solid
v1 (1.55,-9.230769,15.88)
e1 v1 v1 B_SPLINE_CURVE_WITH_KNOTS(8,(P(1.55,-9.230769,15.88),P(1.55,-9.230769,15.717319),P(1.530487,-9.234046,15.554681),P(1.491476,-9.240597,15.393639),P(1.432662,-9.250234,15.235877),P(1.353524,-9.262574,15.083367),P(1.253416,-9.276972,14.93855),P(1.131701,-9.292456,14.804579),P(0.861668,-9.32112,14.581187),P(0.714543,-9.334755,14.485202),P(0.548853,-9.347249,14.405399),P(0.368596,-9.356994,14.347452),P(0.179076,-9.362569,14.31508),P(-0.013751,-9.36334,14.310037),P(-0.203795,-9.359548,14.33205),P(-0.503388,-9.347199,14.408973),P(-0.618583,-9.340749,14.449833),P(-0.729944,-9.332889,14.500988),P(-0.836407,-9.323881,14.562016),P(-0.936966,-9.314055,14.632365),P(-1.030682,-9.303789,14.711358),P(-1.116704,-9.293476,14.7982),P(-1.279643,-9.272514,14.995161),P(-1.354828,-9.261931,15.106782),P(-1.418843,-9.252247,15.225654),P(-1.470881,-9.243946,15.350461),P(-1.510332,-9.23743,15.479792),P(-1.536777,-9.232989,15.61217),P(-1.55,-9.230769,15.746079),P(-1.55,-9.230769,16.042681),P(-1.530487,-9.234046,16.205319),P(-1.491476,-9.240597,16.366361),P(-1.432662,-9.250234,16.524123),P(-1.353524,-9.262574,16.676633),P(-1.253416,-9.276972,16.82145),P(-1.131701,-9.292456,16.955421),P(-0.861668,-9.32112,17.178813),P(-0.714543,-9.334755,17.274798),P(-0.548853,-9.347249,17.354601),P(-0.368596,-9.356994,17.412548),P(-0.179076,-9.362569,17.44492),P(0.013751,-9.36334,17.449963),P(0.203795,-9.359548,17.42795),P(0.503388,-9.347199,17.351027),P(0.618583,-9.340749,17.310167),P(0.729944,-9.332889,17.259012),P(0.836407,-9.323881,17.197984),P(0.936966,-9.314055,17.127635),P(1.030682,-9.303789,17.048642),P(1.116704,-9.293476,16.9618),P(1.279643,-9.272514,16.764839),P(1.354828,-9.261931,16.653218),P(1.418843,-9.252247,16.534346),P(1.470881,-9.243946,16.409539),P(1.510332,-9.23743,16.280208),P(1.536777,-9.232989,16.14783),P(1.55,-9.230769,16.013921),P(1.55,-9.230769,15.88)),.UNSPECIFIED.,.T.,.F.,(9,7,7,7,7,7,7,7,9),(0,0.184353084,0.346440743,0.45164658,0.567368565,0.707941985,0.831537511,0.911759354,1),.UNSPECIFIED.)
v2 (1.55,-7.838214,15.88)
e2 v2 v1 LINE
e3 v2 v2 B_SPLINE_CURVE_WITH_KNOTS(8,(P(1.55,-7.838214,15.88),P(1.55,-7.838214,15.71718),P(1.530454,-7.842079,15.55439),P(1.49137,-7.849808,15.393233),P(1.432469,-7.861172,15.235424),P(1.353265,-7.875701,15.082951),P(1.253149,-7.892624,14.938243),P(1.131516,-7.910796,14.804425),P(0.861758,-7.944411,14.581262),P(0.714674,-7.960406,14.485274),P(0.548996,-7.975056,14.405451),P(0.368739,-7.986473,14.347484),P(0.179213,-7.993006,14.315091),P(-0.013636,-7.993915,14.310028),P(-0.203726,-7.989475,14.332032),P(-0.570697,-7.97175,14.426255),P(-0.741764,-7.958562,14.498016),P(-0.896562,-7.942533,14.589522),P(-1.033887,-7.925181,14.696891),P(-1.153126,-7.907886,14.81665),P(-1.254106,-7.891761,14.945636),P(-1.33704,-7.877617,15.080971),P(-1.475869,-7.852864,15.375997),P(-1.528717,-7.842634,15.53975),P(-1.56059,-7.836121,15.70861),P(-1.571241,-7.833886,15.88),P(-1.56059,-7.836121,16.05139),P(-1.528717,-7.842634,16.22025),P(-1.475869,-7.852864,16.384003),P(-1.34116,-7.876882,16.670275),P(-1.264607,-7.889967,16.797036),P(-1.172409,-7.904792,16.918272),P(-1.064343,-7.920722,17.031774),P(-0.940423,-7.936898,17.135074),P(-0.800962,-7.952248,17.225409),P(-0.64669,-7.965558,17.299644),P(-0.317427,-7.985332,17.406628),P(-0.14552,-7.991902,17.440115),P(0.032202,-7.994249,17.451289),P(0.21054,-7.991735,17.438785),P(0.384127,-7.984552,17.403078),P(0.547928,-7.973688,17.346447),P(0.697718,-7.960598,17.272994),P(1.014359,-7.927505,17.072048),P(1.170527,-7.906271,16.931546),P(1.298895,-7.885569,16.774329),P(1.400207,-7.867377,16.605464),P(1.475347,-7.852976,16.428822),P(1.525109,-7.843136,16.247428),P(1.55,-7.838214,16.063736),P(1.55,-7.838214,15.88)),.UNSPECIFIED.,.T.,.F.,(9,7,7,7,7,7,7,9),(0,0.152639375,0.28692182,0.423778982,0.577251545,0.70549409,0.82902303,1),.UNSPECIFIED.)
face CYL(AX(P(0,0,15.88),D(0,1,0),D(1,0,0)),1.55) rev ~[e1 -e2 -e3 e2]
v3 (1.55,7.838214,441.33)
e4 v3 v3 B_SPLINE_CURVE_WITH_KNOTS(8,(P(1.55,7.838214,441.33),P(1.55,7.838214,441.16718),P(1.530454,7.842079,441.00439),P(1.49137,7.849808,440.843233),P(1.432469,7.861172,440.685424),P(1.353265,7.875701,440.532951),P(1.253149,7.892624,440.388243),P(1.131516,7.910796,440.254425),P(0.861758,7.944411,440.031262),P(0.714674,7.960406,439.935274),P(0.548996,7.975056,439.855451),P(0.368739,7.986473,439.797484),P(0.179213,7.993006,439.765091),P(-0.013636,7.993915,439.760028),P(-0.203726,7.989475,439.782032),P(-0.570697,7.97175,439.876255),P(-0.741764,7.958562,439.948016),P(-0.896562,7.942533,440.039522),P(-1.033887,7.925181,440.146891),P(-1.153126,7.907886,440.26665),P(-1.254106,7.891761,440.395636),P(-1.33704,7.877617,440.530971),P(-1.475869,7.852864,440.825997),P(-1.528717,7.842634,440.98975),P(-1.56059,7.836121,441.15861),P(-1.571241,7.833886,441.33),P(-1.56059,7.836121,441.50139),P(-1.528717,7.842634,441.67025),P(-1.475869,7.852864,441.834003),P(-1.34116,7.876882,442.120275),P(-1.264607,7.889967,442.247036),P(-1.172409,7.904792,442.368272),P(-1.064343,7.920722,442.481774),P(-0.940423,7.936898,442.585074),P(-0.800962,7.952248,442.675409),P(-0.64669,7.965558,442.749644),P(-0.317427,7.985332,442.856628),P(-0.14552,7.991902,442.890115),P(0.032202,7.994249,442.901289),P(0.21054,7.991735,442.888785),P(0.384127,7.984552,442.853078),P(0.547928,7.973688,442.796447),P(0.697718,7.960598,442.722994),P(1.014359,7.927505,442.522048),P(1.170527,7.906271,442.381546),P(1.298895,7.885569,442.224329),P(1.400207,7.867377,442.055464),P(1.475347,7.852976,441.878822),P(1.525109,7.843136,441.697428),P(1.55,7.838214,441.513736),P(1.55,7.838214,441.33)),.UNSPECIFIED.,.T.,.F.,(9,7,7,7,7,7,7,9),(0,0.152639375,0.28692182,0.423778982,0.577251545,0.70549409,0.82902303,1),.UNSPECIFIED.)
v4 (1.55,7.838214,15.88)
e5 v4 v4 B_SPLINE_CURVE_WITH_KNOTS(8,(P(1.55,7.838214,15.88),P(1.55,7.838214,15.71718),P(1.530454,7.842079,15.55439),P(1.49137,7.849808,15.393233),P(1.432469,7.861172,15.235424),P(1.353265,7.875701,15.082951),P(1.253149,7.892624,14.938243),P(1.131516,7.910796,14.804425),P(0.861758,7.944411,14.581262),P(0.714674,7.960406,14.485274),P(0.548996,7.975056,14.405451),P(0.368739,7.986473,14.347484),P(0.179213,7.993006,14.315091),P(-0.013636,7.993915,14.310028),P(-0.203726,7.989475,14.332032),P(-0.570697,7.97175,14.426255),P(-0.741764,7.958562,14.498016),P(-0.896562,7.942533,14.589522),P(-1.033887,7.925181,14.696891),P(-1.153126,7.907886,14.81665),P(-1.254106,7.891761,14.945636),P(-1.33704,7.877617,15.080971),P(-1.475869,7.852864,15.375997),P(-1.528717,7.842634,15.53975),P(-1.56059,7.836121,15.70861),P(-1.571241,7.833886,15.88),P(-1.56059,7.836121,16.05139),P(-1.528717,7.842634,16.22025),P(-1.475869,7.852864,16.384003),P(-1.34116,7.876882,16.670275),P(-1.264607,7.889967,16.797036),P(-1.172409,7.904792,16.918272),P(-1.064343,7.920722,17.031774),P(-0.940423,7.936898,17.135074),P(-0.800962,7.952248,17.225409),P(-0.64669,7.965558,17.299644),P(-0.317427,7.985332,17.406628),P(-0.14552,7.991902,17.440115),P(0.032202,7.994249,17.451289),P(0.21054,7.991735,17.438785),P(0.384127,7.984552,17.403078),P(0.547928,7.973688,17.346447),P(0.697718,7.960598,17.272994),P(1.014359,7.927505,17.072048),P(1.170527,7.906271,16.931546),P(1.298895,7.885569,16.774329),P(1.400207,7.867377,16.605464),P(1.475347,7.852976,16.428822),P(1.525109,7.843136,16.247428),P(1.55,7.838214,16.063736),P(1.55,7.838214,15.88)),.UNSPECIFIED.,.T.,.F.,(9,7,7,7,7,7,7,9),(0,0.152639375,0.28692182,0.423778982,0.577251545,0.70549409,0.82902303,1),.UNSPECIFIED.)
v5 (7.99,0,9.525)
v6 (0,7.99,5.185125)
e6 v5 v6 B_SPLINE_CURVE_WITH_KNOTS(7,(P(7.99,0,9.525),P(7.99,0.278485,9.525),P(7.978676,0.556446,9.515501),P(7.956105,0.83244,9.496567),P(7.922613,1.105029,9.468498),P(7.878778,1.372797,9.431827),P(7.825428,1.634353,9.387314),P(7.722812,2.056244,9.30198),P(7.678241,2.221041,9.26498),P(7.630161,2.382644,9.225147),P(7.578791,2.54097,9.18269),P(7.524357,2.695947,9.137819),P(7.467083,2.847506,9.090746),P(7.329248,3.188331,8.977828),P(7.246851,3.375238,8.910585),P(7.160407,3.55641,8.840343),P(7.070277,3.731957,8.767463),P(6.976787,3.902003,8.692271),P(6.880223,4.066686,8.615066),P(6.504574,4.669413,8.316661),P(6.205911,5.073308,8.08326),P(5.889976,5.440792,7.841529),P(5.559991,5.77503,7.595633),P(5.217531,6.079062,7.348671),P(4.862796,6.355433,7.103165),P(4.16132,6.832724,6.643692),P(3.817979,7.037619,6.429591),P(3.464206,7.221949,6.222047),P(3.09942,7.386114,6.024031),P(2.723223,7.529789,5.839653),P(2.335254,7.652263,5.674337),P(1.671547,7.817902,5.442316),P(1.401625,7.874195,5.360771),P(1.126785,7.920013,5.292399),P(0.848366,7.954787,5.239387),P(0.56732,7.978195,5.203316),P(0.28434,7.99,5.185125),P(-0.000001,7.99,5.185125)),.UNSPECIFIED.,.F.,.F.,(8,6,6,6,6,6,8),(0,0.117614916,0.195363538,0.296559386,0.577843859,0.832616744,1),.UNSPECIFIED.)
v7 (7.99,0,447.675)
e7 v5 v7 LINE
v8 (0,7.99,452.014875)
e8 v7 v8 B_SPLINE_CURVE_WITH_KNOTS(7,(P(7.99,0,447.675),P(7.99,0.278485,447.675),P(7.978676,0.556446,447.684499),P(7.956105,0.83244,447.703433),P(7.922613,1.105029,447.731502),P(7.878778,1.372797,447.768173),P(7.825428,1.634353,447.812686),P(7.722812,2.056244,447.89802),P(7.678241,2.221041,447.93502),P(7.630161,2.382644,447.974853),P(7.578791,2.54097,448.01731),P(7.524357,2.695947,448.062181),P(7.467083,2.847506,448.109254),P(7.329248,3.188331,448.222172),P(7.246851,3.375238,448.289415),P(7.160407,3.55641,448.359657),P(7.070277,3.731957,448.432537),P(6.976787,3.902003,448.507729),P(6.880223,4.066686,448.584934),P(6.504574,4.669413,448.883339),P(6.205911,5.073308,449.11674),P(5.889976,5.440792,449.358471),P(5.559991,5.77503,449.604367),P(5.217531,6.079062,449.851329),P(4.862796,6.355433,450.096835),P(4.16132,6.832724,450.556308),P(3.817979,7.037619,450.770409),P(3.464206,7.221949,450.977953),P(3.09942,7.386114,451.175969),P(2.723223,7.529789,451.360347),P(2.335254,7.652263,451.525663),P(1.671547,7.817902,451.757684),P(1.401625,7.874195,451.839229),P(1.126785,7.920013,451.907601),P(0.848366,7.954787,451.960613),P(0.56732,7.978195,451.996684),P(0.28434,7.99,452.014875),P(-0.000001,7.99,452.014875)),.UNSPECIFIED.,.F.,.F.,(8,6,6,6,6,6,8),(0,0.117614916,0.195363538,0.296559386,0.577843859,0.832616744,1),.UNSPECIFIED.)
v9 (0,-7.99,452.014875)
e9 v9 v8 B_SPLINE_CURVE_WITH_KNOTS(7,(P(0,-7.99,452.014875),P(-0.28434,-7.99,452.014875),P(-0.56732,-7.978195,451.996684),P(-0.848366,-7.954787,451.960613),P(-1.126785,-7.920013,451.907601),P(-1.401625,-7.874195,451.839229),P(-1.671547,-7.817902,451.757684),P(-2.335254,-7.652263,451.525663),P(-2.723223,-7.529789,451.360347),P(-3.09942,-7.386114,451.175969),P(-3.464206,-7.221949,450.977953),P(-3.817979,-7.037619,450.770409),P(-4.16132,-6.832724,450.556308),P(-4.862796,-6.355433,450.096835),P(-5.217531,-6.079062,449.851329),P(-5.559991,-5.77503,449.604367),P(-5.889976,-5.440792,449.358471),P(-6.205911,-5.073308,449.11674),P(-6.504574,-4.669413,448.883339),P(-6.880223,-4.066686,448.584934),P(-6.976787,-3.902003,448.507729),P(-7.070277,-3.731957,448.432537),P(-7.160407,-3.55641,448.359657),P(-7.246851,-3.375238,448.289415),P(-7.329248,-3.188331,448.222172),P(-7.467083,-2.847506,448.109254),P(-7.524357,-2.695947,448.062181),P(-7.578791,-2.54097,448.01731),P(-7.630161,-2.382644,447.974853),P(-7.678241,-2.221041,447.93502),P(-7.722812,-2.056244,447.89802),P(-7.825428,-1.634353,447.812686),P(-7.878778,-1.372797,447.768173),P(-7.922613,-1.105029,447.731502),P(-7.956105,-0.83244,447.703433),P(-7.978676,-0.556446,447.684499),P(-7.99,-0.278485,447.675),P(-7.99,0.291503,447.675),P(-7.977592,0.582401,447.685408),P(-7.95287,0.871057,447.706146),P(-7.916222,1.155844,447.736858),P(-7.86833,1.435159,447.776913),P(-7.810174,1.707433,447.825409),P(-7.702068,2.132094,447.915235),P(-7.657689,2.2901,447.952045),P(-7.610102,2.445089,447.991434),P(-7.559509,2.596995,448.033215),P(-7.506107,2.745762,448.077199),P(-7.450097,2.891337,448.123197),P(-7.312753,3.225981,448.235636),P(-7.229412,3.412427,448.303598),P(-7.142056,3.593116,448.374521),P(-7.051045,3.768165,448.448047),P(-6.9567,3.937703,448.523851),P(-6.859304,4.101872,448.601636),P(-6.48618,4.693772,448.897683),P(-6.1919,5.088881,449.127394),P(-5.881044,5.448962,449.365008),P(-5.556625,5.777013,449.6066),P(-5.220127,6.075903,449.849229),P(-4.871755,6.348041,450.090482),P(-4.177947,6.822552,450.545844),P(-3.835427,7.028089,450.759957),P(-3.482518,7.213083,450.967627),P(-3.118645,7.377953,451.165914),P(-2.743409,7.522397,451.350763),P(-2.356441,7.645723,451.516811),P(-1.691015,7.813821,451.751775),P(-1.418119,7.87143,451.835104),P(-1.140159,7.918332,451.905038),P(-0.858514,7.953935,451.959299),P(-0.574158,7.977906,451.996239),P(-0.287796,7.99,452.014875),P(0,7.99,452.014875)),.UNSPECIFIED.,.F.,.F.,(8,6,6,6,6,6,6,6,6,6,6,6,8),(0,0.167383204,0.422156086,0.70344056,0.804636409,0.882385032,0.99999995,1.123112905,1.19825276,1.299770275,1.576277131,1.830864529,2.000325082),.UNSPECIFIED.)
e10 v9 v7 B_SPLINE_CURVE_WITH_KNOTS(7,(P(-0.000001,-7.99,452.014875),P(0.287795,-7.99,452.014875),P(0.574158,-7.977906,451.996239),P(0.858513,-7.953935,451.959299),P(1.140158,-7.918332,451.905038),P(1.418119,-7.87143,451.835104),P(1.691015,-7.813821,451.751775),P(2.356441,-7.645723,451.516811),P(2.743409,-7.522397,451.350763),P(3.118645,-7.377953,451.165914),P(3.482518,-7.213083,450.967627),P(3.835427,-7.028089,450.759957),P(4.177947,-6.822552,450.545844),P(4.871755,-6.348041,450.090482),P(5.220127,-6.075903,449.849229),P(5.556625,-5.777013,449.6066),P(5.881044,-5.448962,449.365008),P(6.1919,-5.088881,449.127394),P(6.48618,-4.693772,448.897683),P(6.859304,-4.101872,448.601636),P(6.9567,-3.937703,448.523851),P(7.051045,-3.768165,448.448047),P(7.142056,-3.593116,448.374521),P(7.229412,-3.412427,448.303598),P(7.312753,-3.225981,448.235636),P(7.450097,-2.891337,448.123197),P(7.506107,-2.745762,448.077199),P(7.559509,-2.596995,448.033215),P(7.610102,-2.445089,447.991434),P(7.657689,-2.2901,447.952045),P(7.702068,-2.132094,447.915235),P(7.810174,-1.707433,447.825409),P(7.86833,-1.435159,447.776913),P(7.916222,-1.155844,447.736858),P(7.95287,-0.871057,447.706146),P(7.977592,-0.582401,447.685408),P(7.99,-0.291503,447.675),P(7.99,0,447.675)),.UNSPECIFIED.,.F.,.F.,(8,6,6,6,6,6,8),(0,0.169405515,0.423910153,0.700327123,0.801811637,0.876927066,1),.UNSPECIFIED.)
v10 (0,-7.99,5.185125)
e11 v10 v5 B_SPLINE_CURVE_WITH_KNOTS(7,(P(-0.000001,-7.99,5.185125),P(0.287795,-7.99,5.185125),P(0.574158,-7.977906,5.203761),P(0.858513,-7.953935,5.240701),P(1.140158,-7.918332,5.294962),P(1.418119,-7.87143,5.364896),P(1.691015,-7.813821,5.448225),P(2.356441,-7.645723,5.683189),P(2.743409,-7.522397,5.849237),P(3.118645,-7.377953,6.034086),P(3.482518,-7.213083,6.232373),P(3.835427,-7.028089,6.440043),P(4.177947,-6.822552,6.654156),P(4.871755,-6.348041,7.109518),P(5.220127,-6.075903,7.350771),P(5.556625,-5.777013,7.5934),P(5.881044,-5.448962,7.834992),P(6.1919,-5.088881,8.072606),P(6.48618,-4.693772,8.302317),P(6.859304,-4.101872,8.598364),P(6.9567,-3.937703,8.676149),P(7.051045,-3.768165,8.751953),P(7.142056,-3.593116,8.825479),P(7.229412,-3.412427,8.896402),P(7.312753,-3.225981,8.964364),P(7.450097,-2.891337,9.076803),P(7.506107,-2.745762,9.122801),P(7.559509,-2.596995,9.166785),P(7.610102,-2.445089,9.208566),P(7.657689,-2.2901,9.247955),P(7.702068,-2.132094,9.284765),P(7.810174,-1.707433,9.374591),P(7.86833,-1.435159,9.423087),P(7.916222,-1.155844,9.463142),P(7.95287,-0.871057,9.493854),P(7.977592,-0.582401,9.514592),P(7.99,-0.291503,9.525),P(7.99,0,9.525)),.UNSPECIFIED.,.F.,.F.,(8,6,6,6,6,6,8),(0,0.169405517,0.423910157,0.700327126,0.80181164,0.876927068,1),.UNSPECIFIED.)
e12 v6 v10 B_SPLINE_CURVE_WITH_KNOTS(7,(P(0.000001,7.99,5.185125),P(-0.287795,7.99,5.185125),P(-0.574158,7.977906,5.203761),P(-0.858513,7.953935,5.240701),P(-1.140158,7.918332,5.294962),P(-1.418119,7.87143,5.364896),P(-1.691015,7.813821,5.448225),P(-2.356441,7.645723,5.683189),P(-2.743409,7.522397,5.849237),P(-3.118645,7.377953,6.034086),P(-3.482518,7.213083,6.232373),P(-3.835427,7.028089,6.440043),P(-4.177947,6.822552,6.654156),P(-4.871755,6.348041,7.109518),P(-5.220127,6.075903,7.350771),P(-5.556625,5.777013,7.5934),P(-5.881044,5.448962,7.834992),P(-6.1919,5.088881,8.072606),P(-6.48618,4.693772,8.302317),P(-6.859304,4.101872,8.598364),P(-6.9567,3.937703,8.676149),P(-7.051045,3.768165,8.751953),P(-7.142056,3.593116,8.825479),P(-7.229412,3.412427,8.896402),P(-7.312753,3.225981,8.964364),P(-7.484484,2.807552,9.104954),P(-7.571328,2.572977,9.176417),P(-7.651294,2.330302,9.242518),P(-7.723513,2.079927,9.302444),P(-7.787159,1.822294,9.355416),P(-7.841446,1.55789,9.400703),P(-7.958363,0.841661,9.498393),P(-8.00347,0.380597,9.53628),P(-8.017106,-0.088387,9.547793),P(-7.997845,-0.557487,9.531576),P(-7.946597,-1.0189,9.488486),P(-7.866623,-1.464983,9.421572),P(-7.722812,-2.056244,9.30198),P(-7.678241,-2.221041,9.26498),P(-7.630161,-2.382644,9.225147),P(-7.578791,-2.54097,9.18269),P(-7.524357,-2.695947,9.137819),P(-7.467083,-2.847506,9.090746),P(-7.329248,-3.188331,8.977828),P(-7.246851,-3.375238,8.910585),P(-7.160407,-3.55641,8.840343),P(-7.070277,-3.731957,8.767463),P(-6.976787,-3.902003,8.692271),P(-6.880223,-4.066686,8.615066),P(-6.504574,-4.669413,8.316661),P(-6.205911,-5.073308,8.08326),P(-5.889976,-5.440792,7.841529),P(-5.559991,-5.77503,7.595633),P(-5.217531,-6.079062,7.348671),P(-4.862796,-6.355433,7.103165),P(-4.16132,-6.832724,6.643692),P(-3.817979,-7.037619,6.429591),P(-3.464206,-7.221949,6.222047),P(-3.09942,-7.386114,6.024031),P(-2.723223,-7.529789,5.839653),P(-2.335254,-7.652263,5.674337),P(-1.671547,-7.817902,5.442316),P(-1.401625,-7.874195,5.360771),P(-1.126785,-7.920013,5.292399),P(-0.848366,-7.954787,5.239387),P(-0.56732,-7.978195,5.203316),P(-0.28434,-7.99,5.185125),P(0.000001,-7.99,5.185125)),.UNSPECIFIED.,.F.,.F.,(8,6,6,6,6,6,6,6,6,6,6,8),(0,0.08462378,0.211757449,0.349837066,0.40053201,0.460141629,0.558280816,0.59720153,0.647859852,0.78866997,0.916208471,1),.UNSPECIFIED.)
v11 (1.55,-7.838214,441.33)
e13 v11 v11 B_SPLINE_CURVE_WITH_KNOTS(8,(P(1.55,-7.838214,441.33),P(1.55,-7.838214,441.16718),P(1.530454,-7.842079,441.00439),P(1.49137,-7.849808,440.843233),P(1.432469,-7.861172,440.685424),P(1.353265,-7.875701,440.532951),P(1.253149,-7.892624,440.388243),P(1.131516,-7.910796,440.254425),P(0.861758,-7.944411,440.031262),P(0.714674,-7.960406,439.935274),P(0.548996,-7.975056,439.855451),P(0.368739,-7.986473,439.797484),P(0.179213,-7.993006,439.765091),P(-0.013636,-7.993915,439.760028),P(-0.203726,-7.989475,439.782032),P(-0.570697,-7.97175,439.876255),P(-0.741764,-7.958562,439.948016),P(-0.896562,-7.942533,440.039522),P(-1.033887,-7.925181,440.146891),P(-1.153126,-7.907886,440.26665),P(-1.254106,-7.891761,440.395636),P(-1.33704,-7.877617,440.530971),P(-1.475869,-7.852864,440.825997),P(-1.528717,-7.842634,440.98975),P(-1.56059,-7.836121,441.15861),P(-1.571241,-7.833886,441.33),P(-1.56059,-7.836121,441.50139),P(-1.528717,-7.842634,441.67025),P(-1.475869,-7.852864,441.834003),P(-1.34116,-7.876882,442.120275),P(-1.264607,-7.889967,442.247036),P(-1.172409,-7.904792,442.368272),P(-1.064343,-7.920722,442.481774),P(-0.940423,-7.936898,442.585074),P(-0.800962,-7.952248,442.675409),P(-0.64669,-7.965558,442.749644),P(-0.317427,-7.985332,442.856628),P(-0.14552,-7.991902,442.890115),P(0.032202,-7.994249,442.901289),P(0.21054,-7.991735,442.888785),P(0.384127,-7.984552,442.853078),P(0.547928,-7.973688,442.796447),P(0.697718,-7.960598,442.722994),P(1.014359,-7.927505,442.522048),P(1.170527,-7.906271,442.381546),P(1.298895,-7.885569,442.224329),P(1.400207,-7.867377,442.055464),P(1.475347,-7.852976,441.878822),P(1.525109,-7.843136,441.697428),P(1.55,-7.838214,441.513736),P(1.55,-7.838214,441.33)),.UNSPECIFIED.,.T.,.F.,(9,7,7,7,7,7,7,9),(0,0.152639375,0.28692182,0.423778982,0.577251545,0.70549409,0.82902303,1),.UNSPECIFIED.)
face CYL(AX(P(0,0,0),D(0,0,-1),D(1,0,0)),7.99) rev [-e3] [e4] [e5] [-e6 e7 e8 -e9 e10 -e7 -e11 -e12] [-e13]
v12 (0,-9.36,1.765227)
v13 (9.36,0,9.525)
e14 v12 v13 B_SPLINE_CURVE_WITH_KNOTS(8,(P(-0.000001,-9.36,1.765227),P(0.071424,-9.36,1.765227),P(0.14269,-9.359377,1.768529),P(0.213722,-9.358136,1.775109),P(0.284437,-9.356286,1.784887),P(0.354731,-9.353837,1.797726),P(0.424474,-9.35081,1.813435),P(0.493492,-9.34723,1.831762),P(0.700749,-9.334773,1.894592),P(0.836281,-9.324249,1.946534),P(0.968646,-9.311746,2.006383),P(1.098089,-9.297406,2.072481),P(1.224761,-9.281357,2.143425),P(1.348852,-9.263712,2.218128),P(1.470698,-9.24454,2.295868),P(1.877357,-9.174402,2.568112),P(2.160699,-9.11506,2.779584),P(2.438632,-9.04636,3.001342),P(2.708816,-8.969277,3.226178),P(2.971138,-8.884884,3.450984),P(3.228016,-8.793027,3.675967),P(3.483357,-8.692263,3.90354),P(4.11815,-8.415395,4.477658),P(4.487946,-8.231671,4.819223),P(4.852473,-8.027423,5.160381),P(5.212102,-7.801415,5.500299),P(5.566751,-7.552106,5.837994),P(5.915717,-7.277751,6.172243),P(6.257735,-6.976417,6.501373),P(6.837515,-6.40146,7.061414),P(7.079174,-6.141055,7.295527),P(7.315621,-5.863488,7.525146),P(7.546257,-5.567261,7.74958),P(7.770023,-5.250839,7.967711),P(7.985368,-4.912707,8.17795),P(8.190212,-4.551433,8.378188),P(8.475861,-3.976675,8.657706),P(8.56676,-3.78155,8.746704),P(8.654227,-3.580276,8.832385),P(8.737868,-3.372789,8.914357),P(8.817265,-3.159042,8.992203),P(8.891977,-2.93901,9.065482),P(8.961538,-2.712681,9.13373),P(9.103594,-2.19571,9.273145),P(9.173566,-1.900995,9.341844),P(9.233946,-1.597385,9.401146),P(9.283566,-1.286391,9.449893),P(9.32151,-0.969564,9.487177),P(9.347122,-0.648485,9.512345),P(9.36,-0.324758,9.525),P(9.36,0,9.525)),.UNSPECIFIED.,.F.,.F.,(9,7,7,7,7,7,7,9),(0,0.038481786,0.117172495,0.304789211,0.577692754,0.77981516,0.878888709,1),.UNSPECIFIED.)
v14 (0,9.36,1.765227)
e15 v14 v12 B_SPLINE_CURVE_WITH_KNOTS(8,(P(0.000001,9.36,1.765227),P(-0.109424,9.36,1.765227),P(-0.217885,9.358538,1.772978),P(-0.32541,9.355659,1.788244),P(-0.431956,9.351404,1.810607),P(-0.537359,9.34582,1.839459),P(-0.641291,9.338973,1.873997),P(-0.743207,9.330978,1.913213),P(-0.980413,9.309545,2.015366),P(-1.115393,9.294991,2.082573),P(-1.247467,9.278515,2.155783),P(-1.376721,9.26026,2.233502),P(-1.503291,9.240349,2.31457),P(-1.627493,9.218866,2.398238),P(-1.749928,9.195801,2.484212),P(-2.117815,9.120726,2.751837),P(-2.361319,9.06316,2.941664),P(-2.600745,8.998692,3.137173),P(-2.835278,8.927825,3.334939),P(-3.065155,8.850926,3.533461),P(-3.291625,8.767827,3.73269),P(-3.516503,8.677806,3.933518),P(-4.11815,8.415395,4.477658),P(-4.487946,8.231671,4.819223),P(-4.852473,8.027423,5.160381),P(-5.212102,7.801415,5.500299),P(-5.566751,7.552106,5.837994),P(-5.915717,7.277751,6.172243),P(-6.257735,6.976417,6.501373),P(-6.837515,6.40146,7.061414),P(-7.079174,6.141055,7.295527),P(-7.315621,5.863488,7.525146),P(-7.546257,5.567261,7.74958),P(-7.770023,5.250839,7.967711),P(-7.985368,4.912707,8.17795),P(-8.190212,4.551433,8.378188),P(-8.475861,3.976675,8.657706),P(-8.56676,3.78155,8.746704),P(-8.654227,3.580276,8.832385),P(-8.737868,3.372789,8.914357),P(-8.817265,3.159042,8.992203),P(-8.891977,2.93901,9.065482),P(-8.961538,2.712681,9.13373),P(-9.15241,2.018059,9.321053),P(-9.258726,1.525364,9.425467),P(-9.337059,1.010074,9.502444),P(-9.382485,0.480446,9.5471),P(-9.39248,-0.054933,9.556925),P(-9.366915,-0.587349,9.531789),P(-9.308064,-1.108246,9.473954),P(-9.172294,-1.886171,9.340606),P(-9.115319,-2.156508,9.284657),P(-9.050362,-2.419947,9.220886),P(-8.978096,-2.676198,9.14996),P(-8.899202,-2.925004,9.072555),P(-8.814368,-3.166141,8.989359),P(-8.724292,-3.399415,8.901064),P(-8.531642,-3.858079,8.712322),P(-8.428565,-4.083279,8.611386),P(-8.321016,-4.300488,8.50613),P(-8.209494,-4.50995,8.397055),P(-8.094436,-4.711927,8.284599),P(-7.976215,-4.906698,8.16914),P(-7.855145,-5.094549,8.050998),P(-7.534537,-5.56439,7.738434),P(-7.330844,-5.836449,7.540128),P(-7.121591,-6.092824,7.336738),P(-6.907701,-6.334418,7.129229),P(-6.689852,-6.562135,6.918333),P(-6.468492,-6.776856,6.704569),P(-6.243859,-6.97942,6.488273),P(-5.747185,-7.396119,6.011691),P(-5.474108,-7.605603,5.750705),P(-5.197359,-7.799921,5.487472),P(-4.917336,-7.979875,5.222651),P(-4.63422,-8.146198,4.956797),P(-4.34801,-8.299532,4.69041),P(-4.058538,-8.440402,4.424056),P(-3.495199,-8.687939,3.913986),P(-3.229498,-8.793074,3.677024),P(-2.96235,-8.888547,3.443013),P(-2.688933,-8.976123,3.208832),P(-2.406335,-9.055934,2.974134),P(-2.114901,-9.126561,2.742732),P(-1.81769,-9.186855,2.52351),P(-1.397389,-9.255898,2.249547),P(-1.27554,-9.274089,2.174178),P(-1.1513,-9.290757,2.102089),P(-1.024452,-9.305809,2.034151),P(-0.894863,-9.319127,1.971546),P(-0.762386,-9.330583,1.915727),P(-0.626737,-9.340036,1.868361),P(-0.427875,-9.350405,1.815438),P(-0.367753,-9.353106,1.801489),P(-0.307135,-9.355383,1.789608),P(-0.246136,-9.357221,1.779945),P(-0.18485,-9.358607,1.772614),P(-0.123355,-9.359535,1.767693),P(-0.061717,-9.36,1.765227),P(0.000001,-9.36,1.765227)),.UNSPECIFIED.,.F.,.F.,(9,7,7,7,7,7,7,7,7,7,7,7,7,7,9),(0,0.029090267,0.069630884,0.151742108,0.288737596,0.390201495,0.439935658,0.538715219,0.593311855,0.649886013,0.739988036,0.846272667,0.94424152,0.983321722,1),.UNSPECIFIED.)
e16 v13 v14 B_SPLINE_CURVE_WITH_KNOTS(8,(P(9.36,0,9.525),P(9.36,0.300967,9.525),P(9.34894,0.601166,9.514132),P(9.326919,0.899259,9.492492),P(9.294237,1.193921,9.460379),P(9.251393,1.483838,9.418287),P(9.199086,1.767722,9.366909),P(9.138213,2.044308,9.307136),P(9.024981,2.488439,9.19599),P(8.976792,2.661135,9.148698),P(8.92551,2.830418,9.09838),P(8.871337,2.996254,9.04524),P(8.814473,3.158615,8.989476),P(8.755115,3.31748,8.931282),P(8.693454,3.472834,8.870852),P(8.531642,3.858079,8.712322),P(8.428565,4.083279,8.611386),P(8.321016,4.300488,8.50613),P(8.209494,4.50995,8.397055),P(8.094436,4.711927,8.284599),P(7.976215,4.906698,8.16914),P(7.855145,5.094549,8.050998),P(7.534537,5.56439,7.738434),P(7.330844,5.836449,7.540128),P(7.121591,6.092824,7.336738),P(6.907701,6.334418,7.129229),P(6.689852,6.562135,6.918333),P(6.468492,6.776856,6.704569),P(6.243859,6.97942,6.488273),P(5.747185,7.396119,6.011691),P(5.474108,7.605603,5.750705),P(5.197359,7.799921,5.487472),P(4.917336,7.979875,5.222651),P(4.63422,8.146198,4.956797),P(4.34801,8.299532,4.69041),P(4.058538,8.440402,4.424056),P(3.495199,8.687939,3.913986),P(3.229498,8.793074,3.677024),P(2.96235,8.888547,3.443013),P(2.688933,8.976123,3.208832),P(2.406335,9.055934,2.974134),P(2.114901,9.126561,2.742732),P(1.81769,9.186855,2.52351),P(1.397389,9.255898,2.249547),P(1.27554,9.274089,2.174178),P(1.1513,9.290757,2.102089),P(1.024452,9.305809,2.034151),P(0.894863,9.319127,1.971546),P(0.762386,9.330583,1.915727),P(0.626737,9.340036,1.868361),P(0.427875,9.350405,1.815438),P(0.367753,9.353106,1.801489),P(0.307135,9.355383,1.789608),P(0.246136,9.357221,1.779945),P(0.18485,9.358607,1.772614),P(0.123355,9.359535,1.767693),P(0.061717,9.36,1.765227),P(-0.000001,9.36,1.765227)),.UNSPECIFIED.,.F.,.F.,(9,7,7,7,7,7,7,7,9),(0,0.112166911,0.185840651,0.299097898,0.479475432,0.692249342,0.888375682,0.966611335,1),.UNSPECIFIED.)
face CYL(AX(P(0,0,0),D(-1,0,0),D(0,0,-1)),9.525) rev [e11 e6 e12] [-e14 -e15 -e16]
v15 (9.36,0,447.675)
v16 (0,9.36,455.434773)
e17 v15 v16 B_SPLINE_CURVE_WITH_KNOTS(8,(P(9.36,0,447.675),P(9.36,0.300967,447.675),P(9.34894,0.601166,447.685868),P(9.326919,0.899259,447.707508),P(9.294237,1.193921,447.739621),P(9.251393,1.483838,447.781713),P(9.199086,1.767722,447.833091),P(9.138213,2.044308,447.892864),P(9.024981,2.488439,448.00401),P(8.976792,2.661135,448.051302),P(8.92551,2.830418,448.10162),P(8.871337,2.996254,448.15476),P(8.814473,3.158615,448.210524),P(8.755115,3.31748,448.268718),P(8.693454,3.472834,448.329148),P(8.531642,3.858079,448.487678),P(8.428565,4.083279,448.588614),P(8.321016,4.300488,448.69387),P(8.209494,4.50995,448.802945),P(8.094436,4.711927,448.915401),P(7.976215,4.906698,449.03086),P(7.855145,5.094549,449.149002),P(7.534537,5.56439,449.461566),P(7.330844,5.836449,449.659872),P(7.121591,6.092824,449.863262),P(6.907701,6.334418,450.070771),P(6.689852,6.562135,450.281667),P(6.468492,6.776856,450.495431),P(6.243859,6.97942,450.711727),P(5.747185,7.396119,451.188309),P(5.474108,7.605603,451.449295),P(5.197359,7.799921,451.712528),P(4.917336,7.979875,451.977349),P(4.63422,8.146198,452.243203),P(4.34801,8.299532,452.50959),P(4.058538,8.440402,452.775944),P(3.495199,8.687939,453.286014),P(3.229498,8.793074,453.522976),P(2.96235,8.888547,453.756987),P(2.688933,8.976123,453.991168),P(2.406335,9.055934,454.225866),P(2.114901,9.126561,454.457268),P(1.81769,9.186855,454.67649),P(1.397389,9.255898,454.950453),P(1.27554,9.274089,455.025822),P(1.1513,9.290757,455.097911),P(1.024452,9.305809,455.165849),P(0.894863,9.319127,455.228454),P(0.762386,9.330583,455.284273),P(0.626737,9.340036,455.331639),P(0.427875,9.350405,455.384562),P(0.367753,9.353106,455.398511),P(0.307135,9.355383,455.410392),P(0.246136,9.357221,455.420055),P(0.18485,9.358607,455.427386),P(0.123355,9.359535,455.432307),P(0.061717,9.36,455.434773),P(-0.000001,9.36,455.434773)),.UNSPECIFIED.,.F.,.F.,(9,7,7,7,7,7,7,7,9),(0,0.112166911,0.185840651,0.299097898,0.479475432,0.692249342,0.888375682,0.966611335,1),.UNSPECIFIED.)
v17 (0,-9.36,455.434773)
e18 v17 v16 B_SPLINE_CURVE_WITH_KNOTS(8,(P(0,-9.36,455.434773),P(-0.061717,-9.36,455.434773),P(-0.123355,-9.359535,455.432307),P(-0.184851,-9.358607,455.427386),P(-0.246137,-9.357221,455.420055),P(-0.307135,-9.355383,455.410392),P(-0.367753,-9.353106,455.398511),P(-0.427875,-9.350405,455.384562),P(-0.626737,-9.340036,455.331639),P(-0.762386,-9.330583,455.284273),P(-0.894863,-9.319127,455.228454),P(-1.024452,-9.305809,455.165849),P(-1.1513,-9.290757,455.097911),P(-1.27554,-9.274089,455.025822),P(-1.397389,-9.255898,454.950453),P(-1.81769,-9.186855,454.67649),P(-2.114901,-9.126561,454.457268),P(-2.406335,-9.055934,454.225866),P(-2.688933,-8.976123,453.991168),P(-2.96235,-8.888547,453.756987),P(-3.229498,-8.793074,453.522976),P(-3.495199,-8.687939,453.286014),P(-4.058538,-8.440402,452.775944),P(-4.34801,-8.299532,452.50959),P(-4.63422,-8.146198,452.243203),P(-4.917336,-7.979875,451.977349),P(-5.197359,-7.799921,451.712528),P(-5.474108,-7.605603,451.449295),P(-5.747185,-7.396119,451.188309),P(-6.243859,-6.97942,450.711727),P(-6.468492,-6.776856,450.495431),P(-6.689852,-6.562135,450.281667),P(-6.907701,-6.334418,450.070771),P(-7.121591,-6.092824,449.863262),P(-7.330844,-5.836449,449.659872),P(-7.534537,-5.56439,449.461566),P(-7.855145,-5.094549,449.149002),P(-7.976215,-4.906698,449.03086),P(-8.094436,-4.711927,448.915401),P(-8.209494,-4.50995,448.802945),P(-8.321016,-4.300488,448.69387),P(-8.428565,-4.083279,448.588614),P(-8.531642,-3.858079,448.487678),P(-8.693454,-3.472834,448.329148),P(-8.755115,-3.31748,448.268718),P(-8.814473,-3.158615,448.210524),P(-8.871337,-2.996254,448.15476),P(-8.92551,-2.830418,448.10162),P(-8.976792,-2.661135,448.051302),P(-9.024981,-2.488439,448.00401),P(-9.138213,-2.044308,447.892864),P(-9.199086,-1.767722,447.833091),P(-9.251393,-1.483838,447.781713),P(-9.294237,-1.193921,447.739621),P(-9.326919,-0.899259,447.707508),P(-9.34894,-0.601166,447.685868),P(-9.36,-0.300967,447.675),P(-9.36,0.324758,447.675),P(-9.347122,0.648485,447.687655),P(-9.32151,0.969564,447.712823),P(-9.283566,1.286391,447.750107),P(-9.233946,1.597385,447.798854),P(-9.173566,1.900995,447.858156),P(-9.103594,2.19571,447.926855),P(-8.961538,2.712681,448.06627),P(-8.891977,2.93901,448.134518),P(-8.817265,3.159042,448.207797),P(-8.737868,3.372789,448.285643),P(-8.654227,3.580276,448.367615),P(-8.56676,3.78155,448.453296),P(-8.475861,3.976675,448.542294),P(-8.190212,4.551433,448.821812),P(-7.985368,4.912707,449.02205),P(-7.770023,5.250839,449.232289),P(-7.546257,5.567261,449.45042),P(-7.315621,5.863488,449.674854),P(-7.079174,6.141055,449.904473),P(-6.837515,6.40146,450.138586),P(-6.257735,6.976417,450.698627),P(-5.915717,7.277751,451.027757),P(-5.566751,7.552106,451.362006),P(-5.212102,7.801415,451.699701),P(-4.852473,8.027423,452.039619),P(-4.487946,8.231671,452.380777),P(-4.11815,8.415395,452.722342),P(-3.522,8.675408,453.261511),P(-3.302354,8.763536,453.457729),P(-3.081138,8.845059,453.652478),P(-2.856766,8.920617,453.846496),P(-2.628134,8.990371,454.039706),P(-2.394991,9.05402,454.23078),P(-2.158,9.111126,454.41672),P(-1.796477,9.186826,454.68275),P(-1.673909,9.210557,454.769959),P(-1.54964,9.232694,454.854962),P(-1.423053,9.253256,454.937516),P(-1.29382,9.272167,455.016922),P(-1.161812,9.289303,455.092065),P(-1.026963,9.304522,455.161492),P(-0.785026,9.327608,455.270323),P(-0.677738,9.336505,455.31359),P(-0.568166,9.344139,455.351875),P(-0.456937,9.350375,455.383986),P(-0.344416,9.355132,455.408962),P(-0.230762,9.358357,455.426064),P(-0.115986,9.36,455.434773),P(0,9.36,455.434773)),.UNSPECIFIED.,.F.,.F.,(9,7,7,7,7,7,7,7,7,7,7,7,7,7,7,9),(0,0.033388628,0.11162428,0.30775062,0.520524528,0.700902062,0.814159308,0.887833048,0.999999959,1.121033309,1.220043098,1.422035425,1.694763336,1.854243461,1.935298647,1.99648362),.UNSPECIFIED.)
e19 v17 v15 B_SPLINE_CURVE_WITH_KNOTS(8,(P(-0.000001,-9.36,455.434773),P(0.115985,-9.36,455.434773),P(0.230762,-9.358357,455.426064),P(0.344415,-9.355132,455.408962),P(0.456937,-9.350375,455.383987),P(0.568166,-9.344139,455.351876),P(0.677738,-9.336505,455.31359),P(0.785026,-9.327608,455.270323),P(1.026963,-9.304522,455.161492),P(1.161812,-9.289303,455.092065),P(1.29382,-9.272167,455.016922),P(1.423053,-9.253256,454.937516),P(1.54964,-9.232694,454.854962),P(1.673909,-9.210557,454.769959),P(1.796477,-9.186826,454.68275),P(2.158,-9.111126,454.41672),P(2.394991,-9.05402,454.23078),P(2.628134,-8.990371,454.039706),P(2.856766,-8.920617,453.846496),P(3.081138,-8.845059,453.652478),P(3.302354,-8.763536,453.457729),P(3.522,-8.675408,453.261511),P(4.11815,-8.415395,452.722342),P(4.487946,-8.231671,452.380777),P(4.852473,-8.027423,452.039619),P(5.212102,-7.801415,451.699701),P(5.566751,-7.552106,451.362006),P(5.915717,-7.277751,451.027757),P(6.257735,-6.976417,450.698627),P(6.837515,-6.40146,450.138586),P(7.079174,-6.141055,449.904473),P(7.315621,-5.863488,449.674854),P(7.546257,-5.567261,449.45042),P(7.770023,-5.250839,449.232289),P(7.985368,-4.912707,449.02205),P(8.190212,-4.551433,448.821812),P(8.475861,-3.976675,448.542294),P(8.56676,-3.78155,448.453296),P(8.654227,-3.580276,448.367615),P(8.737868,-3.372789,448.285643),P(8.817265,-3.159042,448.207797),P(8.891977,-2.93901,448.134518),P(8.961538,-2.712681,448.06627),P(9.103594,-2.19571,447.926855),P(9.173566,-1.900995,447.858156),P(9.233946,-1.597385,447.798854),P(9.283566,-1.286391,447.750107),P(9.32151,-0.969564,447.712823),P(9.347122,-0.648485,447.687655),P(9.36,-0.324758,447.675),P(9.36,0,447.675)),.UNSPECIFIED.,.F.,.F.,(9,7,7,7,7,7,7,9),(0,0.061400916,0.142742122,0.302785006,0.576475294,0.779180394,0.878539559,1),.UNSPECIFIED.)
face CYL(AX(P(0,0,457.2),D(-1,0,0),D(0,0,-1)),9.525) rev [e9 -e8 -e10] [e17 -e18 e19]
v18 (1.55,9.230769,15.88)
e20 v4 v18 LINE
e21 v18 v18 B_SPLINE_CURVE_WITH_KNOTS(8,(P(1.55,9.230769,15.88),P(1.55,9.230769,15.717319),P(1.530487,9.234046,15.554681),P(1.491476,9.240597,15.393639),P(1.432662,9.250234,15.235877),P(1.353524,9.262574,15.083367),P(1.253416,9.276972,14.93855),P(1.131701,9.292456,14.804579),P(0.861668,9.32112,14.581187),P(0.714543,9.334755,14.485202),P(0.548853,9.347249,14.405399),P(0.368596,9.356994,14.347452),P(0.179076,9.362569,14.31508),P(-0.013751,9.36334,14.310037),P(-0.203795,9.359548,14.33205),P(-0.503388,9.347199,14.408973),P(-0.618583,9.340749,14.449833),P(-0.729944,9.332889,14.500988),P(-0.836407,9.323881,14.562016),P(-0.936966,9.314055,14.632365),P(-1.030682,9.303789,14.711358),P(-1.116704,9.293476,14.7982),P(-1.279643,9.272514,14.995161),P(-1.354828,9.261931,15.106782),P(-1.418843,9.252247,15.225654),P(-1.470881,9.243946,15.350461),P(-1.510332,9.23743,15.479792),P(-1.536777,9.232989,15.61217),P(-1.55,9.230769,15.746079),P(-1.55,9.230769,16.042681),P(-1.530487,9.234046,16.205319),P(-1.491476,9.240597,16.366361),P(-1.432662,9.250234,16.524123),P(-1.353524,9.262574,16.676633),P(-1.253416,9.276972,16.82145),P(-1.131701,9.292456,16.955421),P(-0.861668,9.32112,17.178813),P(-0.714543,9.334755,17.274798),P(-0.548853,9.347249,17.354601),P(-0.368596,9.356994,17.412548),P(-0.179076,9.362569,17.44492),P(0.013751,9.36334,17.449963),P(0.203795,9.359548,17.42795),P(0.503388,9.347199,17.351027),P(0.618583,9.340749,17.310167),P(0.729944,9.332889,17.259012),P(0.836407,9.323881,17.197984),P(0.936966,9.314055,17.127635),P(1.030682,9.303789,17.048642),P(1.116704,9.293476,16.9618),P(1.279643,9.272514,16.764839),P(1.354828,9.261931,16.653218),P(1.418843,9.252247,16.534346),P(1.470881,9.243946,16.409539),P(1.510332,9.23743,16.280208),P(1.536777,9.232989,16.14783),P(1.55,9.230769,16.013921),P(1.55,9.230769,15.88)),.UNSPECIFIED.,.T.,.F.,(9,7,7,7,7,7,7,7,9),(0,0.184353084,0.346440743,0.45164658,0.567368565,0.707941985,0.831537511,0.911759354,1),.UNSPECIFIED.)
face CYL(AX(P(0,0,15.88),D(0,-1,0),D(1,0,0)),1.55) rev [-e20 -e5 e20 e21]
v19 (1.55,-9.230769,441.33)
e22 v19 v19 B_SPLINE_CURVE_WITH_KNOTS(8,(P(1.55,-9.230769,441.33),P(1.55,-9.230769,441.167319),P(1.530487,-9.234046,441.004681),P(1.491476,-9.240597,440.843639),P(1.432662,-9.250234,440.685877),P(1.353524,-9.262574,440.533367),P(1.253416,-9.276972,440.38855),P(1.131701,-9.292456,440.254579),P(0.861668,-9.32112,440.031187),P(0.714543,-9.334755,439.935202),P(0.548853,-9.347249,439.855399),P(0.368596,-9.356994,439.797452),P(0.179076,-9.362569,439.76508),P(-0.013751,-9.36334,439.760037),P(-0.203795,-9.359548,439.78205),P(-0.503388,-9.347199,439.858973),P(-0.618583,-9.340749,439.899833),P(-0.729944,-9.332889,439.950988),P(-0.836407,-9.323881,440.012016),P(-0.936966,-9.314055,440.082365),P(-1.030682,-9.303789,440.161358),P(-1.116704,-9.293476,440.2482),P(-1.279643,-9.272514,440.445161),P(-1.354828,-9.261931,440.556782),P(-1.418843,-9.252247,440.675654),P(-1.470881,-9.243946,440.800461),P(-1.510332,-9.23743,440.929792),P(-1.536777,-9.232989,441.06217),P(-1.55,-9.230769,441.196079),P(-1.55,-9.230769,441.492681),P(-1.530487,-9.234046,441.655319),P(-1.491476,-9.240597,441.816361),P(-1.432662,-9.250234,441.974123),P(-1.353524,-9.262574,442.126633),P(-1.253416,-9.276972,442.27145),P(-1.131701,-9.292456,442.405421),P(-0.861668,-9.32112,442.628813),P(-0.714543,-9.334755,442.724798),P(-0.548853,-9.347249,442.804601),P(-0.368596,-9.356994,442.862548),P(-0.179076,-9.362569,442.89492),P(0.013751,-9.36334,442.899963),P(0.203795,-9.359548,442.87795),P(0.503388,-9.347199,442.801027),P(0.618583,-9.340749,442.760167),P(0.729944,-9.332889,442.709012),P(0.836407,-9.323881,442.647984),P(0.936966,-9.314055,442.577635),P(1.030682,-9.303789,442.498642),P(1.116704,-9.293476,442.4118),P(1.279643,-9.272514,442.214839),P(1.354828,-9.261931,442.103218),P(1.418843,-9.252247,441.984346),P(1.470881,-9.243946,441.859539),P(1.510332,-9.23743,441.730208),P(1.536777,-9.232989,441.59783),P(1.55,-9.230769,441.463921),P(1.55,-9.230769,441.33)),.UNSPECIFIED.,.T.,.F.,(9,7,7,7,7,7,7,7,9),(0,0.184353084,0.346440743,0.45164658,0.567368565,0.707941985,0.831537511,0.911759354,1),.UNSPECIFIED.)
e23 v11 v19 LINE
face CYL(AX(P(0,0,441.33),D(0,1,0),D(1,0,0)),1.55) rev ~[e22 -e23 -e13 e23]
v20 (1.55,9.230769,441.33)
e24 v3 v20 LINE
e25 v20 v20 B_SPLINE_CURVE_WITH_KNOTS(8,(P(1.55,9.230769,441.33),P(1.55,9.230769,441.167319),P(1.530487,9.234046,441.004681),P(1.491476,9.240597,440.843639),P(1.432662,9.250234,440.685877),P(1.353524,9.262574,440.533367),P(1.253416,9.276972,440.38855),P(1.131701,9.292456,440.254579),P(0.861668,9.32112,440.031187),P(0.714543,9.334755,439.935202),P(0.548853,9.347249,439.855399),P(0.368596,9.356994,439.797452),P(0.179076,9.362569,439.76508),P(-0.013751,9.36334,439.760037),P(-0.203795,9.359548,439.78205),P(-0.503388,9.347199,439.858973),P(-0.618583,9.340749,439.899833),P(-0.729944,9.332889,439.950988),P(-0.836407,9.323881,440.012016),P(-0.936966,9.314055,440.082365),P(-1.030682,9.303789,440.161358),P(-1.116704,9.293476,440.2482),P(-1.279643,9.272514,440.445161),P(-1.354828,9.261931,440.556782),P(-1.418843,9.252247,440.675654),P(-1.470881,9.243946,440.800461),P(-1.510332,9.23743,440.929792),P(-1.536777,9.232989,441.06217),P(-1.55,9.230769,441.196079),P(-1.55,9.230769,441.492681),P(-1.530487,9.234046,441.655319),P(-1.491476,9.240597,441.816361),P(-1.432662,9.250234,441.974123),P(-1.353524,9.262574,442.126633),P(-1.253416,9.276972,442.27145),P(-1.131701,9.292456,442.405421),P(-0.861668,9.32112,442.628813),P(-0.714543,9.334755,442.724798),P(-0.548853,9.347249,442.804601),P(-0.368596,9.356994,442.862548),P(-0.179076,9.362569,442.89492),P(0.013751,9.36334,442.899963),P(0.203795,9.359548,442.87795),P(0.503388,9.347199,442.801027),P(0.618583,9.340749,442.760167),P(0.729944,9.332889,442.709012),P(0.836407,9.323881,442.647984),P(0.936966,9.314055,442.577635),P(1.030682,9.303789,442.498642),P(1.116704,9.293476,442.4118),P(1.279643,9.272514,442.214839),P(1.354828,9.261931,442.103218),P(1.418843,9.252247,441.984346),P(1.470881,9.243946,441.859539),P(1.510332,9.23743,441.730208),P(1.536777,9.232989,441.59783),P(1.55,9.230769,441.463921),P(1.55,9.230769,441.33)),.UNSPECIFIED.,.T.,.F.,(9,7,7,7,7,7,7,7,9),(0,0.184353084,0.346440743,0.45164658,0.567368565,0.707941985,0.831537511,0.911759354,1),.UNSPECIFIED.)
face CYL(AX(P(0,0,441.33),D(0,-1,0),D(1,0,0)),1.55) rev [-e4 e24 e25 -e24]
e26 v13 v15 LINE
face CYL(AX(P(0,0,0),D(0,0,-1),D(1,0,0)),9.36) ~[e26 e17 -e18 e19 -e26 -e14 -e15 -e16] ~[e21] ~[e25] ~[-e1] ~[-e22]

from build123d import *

# Parameters (mm, degrees)
SKETCH1_R               = 9.36
SKETCH1_R_2             = 7.99
EXTRUDE1_DEPTH          = 457.2
SKETCH2_R               = 9.525
CUT_EXTRUDE1_DEPTH      = 10.36
CUT_EXTRUDE1_DEPTH_BACK = 10.36
SKETCH3_R               = 9.525
CUT_EXTRUDE2_DEPTH      = 10.3600001
CUT_EXTRUDE2_DEPTH_BACK = 10.3600001
SKETCH5_R               = 1.55
CUT_EXTRUDE3_DEPTH      = 10.3600001
CUT_EXTRUDE3_DEPTH_BACK = 10.3600001


with BuildPart() as part:
    # Sketch1 → Extrude1 (new body)
    with BuildSketch(Plane.XY):
        Circle(SKETCH1_R)
        Circle(SKETCH1_R_2, mode=Mode.SUBTRACT)
    extrude(amount=EXTRUDE1_DEPTH)

    # Sketch2 → Cut-Extrude1 (cut, two sides)
    with BuildSketch(Plane(origin=(0, 0, 0), x_dir=(0, 0, -1), z_dir=(1, 0, 0))) as cut_extrude1_sk:
        Circle(SKETCH2_R)
    extrude(amount=CUT_EXTRUDE1_DEPTH, mode=Mode.SUBTRACT)
    extrude(cut_extrude1_sk.sketch, amount=-CUT_EXTRUDE1_DEPTH_BACK, mode=Mode.SUBTRACT)

    # Sketch3 → Cut-Extrude2 (cut, two sides)
    with BuildSketch(Plane(origin=(0, 0, 0), x_dir=(0, 0, -1), z_dir=(1, 0, 0))) as cut_extrude2_sk:
        with Locations((-457.2, 0)):
            Circle(SKETCH3_R)
    extrude(amount=CUT_EXTRUDE2_DEPTH, mode=Mode.SUBTRACT)
    extrude(cut_extrude2_sk.sketch, amount=-CUT_EXTRUDE2_DEPTH_BACK, mode=Mode.SUBTRACT)

    # Sketch5 → Cut-Extrude3 (cut, two sides)
    with BuildSketch(Plane(origin=(0, 0, 0), x_dir=(1, 0, 0), z_dir=(0, 1, 0))) as cut_extrude3_sk:
        with Locations((0, -441.33)):
            Circle(SKETCH5_R)
        with Locations((0, -15.88)):
            Circle(SKETCH5_R)
    extrude(amount=CUT_EXTRUDE3_DEPTH, mode=Mode.SUBTRACT)
    extrude(cut_extrude3_sk.sketch, amount=-CUT_EXTRUDE3_DEPTH_BACK, mode=Mode.SUBTRACT)


solid = part.part
